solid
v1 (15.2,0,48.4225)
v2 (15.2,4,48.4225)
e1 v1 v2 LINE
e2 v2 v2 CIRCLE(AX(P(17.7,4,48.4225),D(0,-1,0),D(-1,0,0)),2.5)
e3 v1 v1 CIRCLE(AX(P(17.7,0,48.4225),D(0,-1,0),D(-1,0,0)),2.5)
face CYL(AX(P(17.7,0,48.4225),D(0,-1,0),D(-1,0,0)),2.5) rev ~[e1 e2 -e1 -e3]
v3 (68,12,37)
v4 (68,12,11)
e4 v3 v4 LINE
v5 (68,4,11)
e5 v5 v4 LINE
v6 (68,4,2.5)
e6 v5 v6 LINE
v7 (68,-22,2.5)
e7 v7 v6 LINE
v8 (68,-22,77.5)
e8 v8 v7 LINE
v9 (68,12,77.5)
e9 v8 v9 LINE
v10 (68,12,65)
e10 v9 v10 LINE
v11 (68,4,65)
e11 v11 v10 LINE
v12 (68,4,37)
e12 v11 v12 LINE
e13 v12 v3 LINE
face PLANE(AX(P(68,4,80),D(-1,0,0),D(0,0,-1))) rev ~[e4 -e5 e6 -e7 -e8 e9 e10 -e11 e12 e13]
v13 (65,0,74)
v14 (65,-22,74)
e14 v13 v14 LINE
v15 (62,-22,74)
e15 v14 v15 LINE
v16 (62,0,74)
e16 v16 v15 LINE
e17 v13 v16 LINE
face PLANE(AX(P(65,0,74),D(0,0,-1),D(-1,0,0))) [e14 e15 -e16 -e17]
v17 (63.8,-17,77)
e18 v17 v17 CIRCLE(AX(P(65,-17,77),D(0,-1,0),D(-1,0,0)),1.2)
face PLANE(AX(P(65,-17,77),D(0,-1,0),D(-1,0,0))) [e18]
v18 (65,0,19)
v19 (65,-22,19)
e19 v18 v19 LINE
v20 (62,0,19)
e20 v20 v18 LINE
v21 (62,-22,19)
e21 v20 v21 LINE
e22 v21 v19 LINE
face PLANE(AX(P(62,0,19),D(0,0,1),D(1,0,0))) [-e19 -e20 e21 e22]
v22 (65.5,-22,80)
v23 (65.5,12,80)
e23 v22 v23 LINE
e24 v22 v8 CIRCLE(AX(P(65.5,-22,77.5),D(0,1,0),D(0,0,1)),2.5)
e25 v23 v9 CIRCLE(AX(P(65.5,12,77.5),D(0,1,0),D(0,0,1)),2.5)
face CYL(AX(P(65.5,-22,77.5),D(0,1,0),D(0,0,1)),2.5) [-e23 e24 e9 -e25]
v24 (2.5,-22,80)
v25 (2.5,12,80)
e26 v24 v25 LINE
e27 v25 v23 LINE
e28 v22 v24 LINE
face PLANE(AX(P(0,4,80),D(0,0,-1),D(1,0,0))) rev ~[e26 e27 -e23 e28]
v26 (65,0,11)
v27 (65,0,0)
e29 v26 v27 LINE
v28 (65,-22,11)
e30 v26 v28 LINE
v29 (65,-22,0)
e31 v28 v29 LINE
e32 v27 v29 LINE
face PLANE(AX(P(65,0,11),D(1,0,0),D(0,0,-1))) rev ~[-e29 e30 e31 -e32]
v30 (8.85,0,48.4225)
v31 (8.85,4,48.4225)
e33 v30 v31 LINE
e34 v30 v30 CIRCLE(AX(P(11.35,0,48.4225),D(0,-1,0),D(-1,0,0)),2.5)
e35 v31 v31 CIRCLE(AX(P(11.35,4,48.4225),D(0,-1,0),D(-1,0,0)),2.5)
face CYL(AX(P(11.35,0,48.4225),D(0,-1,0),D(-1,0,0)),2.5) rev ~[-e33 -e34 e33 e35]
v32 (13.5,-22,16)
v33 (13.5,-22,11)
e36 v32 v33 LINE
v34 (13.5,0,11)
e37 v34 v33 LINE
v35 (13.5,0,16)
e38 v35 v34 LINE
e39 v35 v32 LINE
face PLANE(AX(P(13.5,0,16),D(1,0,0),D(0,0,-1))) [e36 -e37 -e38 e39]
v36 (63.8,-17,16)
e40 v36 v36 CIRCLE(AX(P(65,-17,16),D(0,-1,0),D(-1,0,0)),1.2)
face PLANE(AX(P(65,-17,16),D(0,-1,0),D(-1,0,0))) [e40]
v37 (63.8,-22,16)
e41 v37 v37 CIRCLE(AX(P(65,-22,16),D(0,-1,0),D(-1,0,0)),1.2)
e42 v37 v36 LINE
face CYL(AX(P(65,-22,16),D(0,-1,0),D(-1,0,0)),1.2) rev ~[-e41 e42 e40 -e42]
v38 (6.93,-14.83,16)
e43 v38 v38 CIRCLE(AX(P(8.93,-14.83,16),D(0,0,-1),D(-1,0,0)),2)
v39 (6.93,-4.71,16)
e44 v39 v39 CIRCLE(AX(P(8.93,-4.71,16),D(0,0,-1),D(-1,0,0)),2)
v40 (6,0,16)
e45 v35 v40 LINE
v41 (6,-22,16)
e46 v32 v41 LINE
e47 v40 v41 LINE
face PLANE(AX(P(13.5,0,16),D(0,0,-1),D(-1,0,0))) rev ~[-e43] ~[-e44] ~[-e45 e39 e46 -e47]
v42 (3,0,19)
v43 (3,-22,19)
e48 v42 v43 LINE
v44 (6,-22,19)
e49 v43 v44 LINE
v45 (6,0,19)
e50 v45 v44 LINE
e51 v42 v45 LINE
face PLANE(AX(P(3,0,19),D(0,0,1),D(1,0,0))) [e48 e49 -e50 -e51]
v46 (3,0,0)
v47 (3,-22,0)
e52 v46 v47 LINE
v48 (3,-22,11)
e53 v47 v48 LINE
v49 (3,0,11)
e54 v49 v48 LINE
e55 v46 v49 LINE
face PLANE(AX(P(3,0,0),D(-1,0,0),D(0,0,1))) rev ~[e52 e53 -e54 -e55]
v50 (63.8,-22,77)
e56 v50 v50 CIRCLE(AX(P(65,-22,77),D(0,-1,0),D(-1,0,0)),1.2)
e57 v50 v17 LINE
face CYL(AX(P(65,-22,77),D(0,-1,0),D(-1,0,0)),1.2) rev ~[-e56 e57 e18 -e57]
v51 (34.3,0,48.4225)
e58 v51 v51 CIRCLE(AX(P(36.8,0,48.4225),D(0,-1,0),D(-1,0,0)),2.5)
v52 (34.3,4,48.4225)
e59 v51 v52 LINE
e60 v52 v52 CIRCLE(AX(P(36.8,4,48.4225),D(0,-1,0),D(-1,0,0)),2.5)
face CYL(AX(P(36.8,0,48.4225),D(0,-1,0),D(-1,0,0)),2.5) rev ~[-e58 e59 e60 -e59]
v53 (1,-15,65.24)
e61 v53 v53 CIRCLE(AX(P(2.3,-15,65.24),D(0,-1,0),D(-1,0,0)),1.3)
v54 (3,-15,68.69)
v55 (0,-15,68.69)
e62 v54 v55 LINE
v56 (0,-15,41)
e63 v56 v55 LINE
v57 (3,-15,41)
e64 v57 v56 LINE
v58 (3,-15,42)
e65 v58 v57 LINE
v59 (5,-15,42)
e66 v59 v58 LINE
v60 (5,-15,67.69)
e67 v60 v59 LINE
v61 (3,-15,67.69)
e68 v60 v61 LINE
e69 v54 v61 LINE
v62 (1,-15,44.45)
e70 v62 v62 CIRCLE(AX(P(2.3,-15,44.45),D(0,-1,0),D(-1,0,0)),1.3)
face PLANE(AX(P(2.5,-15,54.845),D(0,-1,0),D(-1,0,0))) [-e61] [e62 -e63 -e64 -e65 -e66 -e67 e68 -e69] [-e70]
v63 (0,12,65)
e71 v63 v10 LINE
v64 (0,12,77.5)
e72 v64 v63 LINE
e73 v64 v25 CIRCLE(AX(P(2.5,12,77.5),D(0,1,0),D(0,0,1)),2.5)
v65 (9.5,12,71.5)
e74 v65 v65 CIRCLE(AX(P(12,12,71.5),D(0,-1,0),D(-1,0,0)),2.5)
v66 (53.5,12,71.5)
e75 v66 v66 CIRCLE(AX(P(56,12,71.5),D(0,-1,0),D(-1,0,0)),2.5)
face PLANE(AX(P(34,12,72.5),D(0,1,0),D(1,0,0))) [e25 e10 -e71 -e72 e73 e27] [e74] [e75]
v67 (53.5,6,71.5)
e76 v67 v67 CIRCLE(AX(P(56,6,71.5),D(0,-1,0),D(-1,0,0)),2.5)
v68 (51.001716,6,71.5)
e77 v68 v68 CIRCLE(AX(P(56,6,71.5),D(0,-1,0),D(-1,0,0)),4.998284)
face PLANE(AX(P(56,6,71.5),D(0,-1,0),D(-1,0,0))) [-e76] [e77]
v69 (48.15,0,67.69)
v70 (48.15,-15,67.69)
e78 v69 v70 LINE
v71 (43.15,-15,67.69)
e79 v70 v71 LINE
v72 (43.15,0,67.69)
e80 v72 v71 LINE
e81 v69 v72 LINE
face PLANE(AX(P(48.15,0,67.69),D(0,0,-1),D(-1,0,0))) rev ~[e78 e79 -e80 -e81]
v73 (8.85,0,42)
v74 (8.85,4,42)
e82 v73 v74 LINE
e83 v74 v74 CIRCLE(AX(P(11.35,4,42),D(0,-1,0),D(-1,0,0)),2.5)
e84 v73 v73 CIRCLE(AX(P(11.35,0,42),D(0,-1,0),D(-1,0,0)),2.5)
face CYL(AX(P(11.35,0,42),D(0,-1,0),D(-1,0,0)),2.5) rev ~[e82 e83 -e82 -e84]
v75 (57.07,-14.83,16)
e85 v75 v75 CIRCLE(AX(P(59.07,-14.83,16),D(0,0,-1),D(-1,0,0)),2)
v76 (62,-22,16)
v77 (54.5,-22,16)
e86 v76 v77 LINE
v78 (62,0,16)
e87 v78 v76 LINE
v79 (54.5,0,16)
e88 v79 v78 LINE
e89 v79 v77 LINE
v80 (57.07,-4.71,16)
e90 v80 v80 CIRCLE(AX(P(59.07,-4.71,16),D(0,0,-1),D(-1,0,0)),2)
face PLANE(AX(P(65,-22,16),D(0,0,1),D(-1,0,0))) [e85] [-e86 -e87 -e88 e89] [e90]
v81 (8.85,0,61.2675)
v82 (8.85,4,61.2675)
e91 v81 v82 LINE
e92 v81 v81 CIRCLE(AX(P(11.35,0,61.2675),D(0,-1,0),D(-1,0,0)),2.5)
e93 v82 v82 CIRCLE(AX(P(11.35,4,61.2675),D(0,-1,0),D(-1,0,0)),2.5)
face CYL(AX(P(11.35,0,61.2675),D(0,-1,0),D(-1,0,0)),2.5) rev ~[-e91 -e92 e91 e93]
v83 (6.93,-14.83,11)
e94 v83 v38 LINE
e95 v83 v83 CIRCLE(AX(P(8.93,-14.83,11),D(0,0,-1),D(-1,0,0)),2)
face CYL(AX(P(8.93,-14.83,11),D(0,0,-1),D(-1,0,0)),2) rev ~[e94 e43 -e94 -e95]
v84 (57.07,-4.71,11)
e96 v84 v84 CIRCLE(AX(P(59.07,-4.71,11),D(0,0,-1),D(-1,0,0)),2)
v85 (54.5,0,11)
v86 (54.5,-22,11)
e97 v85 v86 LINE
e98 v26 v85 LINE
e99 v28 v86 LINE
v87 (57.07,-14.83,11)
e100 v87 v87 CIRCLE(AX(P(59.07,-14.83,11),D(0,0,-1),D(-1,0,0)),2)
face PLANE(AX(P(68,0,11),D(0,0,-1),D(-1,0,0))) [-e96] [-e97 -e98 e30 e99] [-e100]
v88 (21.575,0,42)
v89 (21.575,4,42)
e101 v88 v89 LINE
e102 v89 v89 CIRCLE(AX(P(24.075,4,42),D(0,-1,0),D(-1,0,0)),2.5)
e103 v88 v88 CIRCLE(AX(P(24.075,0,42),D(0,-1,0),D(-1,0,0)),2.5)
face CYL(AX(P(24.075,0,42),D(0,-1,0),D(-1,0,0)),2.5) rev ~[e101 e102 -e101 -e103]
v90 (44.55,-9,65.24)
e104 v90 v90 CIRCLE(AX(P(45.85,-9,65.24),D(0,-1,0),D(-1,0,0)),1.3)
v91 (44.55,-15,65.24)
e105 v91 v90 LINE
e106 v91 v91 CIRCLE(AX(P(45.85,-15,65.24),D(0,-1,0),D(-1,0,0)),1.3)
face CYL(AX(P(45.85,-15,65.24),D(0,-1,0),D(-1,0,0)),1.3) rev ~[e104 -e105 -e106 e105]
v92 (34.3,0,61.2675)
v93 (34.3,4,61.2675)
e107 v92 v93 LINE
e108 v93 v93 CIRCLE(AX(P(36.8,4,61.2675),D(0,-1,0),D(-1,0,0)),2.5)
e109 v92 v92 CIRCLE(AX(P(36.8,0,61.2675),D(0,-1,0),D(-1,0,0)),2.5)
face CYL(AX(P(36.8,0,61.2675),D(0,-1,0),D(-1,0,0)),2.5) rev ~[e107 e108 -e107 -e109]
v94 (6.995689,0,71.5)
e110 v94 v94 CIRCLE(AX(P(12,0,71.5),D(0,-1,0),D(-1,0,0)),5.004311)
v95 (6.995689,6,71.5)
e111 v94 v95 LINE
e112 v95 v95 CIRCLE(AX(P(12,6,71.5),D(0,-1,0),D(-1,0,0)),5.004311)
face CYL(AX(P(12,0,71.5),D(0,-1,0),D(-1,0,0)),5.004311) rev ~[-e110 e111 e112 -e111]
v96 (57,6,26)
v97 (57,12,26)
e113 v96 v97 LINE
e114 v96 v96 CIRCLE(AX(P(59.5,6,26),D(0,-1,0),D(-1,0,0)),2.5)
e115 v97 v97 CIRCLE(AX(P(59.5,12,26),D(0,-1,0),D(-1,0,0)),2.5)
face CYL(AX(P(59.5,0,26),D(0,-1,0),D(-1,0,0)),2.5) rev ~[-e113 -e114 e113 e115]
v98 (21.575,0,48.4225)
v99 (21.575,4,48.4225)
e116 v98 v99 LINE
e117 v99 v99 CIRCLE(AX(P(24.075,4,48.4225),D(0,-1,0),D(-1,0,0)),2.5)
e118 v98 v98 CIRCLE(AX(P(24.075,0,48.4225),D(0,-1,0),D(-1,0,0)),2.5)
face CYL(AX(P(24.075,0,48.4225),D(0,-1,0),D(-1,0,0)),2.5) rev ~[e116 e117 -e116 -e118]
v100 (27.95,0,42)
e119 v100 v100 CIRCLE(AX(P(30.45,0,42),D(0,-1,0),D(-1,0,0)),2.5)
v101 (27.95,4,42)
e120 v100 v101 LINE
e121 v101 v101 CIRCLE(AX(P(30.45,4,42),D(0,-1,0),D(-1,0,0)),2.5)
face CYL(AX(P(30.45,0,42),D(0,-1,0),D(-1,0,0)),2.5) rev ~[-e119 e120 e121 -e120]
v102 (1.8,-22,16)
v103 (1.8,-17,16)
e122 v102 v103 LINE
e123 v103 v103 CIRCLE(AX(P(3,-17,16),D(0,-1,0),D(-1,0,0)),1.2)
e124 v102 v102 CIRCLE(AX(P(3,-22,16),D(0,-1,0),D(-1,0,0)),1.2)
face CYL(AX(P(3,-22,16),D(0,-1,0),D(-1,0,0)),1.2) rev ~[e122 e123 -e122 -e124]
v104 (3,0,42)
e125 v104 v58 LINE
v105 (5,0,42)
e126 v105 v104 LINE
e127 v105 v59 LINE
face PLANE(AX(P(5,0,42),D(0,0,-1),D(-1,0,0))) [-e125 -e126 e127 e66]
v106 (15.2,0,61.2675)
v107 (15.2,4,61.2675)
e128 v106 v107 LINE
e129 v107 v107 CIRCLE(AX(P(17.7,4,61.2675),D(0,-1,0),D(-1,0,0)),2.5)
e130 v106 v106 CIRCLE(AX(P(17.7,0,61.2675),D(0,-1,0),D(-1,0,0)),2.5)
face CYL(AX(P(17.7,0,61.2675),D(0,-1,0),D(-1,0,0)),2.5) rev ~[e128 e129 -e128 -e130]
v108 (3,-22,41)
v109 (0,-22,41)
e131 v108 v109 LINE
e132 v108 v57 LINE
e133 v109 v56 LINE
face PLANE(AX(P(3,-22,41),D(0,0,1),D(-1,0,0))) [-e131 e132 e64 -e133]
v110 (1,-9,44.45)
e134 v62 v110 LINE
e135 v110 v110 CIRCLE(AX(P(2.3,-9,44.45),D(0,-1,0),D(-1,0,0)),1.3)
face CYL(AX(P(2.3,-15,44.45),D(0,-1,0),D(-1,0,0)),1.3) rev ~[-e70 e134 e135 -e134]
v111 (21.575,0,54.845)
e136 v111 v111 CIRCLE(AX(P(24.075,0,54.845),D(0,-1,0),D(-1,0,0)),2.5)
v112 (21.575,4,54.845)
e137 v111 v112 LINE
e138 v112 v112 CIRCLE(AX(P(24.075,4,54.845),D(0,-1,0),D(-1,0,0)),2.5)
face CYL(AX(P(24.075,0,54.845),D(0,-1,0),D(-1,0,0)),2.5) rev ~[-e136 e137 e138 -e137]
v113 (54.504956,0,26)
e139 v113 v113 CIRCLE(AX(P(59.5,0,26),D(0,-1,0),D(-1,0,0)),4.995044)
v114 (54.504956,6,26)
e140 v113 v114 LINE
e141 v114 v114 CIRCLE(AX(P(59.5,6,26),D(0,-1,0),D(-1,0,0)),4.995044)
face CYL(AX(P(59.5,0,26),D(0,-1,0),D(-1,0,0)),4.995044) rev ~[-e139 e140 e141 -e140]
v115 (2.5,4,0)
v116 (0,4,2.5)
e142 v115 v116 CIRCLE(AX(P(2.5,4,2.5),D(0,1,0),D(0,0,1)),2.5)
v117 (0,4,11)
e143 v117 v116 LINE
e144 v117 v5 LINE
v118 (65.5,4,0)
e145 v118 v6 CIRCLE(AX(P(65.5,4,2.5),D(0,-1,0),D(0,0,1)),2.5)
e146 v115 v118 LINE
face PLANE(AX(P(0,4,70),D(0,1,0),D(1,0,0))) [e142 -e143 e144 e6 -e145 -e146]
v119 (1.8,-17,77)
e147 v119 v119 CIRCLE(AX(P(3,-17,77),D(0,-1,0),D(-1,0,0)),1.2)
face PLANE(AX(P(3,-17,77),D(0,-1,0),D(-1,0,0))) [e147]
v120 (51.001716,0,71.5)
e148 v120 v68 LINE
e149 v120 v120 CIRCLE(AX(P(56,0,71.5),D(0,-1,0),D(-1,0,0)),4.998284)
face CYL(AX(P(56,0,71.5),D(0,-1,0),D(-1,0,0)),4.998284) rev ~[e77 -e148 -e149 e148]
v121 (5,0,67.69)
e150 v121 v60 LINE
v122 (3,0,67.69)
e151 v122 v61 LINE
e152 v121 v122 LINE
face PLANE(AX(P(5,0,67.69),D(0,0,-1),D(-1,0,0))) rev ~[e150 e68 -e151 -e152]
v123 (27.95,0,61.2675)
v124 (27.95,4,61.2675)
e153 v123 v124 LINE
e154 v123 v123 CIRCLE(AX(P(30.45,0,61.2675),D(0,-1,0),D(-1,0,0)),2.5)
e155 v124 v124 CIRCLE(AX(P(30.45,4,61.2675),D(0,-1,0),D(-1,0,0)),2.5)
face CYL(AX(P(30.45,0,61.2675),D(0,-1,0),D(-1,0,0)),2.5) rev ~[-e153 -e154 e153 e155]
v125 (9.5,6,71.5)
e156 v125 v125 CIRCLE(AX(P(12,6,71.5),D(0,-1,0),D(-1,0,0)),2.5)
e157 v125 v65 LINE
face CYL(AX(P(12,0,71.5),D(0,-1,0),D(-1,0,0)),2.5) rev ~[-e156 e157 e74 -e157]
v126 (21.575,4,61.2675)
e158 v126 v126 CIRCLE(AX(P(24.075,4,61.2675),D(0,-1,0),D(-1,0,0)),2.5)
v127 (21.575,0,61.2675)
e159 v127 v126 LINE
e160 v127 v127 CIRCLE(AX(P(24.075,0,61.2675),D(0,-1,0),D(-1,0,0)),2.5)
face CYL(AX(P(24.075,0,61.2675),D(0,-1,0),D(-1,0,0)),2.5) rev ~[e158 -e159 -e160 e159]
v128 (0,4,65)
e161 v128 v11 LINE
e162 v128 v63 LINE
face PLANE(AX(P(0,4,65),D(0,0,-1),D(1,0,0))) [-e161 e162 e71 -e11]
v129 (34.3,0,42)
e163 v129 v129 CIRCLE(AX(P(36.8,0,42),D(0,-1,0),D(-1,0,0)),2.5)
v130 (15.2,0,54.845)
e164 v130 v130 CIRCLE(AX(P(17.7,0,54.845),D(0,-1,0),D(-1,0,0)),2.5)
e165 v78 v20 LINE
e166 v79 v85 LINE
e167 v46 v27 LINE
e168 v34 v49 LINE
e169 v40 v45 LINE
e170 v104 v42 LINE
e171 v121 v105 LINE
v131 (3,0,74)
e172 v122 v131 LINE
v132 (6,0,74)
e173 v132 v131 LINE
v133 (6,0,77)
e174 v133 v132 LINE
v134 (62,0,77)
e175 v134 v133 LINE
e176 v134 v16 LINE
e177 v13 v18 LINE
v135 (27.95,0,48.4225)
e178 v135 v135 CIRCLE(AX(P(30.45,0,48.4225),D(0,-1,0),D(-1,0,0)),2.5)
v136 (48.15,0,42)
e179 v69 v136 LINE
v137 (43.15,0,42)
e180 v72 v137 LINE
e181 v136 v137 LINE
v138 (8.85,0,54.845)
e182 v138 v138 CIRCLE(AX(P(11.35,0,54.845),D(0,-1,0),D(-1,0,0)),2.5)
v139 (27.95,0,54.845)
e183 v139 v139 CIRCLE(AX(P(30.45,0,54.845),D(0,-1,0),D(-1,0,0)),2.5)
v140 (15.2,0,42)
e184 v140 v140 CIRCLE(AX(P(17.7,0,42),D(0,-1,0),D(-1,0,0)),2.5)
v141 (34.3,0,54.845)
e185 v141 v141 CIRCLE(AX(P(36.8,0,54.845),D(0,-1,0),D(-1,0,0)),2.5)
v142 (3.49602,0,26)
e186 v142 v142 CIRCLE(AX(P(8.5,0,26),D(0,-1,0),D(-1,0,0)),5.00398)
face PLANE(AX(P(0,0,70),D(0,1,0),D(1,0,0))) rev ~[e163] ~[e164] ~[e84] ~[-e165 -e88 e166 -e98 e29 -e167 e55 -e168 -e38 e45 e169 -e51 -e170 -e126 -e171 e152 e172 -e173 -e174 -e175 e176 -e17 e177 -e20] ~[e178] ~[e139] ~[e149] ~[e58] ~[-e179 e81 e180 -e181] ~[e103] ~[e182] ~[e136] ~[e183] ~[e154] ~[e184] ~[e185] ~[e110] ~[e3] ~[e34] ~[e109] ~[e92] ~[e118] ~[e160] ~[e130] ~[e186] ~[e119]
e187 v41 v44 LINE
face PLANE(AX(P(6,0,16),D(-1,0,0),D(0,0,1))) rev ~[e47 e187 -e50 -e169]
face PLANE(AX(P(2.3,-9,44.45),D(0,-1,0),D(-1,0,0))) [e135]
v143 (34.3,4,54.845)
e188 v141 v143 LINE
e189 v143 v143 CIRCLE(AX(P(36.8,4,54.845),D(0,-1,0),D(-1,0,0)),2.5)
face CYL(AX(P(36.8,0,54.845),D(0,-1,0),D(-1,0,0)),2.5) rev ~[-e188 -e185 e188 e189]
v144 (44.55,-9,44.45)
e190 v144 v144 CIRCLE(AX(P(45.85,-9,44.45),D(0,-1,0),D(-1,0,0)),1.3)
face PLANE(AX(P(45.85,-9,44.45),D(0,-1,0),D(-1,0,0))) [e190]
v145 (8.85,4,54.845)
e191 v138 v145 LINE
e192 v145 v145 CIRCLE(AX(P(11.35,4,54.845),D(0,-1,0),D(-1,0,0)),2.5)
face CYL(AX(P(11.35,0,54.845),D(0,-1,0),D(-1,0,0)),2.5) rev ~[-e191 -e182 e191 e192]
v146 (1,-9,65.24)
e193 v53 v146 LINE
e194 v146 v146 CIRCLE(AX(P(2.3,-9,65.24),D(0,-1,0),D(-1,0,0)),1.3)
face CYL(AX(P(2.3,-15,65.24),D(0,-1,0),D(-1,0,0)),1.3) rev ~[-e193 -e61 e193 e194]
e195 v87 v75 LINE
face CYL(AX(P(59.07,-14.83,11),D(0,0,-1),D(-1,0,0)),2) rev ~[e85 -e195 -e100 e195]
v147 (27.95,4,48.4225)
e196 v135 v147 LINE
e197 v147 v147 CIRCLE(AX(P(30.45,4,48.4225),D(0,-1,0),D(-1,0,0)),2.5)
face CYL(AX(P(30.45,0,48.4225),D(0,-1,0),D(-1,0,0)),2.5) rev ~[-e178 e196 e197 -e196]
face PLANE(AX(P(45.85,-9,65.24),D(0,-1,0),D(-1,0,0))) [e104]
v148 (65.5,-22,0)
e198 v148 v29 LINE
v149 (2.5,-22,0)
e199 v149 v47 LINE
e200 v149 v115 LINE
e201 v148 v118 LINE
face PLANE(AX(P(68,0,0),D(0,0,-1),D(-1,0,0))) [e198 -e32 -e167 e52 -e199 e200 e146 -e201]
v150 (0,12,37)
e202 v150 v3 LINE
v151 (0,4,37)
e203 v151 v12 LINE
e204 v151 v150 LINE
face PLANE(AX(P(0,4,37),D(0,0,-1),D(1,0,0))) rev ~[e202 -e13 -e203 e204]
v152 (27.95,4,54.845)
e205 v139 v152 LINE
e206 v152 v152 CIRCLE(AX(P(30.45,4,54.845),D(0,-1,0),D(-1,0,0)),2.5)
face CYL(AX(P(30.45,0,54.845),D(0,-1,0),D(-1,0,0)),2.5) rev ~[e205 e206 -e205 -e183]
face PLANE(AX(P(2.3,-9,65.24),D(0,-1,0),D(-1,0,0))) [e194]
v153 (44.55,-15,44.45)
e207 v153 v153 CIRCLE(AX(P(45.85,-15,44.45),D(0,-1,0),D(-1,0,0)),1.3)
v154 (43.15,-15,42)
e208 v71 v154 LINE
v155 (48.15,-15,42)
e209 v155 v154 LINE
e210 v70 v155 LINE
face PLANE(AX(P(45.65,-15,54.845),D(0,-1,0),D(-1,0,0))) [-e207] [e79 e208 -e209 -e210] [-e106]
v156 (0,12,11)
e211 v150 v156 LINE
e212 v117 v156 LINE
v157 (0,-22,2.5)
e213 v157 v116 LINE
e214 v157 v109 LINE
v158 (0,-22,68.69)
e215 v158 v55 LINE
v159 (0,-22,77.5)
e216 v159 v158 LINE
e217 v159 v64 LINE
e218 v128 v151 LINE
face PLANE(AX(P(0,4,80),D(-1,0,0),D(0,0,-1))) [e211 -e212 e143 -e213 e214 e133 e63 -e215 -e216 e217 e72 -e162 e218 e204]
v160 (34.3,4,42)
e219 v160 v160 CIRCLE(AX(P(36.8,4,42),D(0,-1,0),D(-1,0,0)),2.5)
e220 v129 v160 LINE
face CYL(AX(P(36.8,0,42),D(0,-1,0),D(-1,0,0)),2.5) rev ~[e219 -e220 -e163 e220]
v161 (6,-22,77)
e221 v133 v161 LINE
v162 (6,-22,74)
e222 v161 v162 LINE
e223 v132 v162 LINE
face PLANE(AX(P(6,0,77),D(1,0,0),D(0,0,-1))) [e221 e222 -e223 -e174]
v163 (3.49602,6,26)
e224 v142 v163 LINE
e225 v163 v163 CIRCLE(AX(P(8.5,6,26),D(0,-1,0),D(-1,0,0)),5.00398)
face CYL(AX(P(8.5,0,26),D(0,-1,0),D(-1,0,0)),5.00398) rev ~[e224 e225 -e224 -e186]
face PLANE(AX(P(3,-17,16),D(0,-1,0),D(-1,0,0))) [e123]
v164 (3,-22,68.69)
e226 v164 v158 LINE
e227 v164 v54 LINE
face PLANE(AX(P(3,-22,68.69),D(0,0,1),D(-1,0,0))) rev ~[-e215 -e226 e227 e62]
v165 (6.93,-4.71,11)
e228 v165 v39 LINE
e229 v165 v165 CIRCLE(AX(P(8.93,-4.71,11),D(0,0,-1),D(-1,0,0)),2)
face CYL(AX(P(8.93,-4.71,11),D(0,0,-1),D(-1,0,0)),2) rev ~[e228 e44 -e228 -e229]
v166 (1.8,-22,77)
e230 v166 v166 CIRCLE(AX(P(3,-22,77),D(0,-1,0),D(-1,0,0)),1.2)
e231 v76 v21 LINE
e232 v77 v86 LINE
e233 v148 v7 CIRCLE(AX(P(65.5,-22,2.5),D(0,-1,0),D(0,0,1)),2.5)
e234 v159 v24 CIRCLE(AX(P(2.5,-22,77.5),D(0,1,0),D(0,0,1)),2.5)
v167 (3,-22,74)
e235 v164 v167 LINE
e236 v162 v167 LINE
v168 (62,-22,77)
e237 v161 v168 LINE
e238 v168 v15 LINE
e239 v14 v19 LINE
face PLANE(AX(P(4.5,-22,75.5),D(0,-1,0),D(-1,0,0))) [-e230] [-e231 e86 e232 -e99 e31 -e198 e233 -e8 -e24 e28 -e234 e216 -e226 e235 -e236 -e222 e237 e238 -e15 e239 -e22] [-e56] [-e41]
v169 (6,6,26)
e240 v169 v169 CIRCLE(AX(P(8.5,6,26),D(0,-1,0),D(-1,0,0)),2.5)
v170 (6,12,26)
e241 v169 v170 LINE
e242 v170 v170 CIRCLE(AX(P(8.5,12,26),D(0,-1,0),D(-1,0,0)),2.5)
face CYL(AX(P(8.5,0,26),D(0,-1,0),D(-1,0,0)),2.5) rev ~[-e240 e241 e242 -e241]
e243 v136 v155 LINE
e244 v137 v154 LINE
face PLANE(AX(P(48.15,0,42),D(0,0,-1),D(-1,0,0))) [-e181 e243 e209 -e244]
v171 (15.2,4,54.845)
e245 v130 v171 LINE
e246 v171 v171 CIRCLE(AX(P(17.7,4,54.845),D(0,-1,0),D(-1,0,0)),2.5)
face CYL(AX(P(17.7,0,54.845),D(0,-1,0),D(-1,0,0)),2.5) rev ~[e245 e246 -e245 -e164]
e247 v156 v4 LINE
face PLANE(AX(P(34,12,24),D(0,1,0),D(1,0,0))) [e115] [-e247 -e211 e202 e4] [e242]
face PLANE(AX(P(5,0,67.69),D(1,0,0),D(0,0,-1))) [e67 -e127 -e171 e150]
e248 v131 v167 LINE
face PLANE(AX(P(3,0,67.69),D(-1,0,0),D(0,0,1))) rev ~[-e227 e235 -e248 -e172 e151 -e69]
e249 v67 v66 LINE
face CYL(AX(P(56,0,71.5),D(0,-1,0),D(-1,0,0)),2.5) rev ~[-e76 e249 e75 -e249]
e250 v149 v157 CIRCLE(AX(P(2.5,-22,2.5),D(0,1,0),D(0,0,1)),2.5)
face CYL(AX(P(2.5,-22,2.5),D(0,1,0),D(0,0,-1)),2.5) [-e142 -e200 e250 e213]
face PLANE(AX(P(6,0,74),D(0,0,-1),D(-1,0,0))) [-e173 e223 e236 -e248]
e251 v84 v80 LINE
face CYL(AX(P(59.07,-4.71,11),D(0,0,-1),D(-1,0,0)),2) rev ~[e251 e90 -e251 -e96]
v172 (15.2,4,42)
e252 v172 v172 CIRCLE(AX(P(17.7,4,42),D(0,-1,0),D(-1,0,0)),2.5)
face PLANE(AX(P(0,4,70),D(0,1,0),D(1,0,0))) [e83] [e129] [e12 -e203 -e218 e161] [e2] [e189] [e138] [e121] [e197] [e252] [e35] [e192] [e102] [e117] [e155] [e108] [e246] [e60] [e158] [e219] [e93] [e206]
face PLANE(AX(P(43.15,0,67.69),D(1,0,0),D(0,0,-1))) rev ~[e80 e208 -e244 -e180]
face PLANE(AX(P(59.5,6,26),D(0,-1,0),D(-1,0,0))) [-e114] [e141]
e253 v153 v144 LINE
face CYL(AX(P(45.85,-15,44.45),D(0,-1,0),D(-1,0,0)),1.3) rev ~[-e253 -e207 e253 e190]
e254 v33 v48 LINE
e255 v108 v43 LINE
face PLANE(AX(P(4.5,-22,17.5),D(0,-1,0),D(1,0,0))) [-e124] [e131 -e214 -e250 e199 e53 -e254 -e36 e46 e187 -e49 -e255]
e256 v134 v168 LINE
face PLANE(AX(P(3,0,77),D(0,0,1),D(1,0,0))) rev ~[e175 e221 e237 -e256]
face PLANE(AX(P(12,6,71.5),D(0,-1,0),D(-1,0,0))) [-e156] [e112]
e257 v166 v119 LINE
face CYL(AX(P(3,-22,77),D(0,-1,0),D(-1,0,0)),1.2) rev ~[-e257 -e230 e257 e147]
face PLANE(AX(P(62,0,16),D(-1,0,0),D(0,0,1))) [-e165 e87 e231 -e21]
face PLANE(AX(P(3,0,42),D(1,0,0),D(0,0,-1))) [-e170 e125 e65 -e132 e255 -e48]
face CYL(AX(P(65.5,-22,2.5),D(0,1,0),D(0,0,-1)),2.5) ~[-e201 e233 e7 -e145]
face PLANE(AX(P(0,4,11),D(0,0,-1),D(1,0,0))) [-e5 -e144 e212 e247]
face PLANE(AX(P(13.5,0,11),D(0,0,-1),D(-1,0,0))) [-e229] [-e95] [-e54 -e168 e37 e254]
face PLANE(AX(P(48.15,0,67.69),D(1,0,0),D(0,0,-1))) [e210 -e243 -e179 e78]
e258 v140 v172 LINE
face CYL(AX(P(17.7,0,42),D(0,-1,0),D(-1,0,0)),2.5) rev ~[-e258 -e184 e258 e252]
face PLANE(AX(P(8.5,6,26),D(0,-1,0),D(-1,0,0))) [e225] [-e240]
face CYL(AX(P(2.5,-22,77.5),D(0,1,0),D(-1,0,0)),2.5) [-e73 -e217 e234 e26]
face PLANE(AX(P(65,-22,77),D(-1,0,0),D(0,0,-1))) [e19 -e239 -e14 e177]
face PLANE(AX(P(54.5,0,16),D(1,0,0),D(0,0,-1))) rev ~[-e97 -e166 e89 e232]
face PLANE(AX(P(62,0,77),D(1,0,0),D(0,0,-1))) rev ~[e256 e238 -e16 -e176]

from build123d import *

# Parameters (mm, degrees)
SKETCH1_W            = 68
SKETCH1_H            = 70
BOSS_EXTRUDE2_DEPTH  = 4
SKETCH2_W            = 13.5
SKETCH2_H            = 5
BOSS_EXTRUDE4_DEPTH  = 22
SKETCH3_R            = 2
CUT_EXTRUDE1_DEPTH   = 10
SKETCH4_W            = 5
SKETCH4_H            = 25.69
BOSS_EXTRUDE5_DEPTH  = 15
SKETCH5_R            = 1.3
CUT_EXTRUDE2_DEPTH   = 6
SKETCH6_W            = 68
SKETCH6_H            = 4
BOSS_EXTRUDE6_DEPTH  = 10
BOSS_EXTRUDE7_DEPTH  = 22
SKETCH8_W            = 3
SKETCH8_H            = 26
BOSS_EXTRUDE8_DEPTH  = 22
BOSS_EXTRUDE9_DEPTH  = 22
SKETCH12_W           = 3
SKETCH12_H           = 1
CUT_EXTRUDE5_DEPTH   = 7
SKETCH13_W           = 68
SKETCH13_H           = 26
SKETCH13_H_2         = 15
BOSS_EXTRUDE12_DEPTH = 8
SKETCH19_W           = 6
SKETCH19_H           = 61
CUT_EXTRUDE8_DEPTH   = 22
SKETCH20_W           = 3
SKETCH20_H           = 3
BOSS_EXTRUDE13_DEPTH = 22
SKETCH21_R           = 2.5
CUT_EXTRUDE9_DEPTH   = 22
SKETCH22_R           = 5.004310541
SKETCH22_R_2         = 5.00398022
SKETCH22_R_3         = 4.995044229
SKETCH22_R_4         = 4.998284189
CUT_EXTRUDE10_DEPTH  = 6
SKETCH24_W           = 3
SKETCH24_H           = 3
BOSS_EXTRUDE14_DEPTH = 22
SKETCH26_R           = 1.2
CUT_EXTRUDE11_DEPTH  = 5
SKETCH27_R           = 2.5
CUT_EXTRUDE13_DEPTH  = 10
FILLET2_R            = 2.5


with BuildPart() as part:
    # Sketch1 → Boss-Extrude2 (new body)
    with BuildSketch(Plane(origin=(0, 0, 0), x_dir=(1, 0, 0), z_dir=(0, 1, 0))):
        with Locations((34, -35)):
            Rectangle(SKETCH1_W, SKETCH1_H)
    extrude(amount=BOSS_EXTRUDE2_DEPTH)

    # Sketch2 → Boss-Extrude4 (add)
    with BuildSketch(Plane(origin=(0, 0, 0), x_dir=(-1, 0, 0), z_dir=(0, -1, 0))):
        with Locations((-6.75, -13.5)):
            Rectangle(SKETCH2_W, SKETCH2_H)
        with Locations((-61.25, -13.5)):
            Rectangle(SKETCH2_W, SKETCH2_H)
    extrude(amount=BOSS_EXTRUDE4_DEPTH)

    # Sketch3 → Cut-Extrude1 (cut)
    with BuildSketch(Plane(origin=(0, 0, 11), x_dir=(-1, 0, 0), z_dir=(0, 0, -1))):
        with Locations((-59.07, -14.83)):
            Circle(SKETCH3_R)
        with Locations((-59.07, -4.71)):
            Circle(SKETCH3_R)
        with Locations((-8.93, -14.83)):
            Circle(SKETCH3_R)
        with Locations((-8.93, -4.71)):
            Circle(SKETCH3_R)
    extrude(amount=-CUT_EXTRUDE1_DEPTH, mode=Mode.SUBTRACT)

    # Sketch4 → Boss-Extrude5 (add)
    with BuildSketch(Plane(origin=(0, 0, 0), x_dir=(-1, 0, 0), z_dir=(0, -1, 0))):
        with Locations((-2.5, -54.845)):
            Rectangle(SKETCH4_W, SKETCH4_H)
        with Locations((-45.65, -54.845)):
            Rectangle(SKETCH4_W, SKETCH4_H)
    extrude(amount=BOSS_EXTRUDE5_DEPTH)

    # Sketch5 → Cut-Extrude2 (cut)
    with BuildSketch(Plane(origin=(0, -15, 0), x_dir=(-1, 0, 0), z_dir=(0, -1, 0))):
        with Locations((-2.3, -65.24)):
            Circle(SKETCH5_R)
        with Locations((-2.3, -44.45)):
            Circle(SKETCH5_R)
        with Locations((-45.85, -65.24)):
            Circle(SKETCH5_R)
        with Locations((-45.85, -44.45)):
            Circle(SKETCH5_R)
    extrude(amount=-CUT_EXTRUDE2_DEPTH, mode=Mode.SUBTRACT)

    # Sketch6 → Boss-Extrude6 (add)
    with BuildSketch(Plane.XY.offset(70)):
        with Locations((34, 2)):
            Rectangle(SKETCH6_W, SKETCH6_H)
    extrude(amount=BOSS_EXTRUDE6_DEPTH)

    # Sketch7 → Boss-Extrude7 (add)
    with BuildSketch(Plane(origin=(0, 0, 0), x_dir=(-1, 0, 0), z_dir=(0, -1, 0))):
        Polygon((0, -80), (0, -67.69), (-3, -67.69), (-3, -77), (-59, -77), (-59, -16), (-68, -16), (-68, -80), align=None)
    extrude(amount=BOSS_EXTRUDE7_DEPTH)

    # Sketch8 → Boss-Extrude8 (add)
    with BuildSketch(Plane(origin=(0, 0, 0), x_dir=(-1, 0, 0), z_dir=(0, -1, 0))):
        with Locations((-1.5, -29)):
            Rectangle(SKETCH8_W, SKETCH8_H)
    extrude(amount=BOSS_EXTRUDE8_DEPTH)

    # Sketch9 → Boss-Extrude9 (add)
    with BuildSketch(Plane.XZ):
        Polygon((68, 11), (68, 0), (65, 0), (65, 3), (65, 11), align=None)
        Polygon((0, 11), (0, 0), (3, 0), (3, 3), (3, 11), align=None)
    extrude(amount=BOSS_EXTRUDE9_DEPTH)

    # Sketch12 → Cut-Extrude5 (cut)
    with BuildSketch(Plane(origin=(0, -22, 0), x_dir=(-1, 0, 0), z_dir=(0, -1, 0))):
        with Locations((-1.5, -41.5)):
            Rectangle(SKETCH12_W, SKETCH12_H)
        with Locations((-1.5, -68.19)):
            Rectangle(SKETCH12_W, SKETCH12_H)
    extrude(amount=-CUT_EXTRUDE5_DEPTH, mode=Mode.SUBTRACT)

    # Sketch13 → Boss-Extrude12 (add)
    with BuildSketch(Plane(origin=(0, 4, 0), x_dir=(1, 0, 0), z_dir=(0, 1, 0))):
        with Locations((34, -24)):
            Rectangle(SKETCH13_W, SKETCH13_H)
        with Locations((34, -72.5)):
            Rectangle(SKETCH13_W, SKETCH13_H_2)
    extrude(amount=BOSS_EXTRUDE12_DEPTH)

    # Sketch19 → Cut-Extrude8 (cut)
    with BuildSketch(Plane(origin=(0, -22, 0), x_dir=(-1, 0, 0), z_dir=(0, -1, 0))):
        with Locations((-62, -46.5)):
            Rectangle(SKETCH19_W, SKETCH19_H)
    extrude(amount=-CUT_EXTRUDE8_DEPTH, mode=Mode.SUBTRACT)

    # Sketch20 → Boss-Extrude13 (add)
    with BuildSketch(Plane.XZ):
        with Locations((4.5, 17.5)):
            Rectangle(SKETCH20_W, SKETCH20_H)
        with Locations((63.5, 17.5)):
            Rectangle(SKETCH20_W, SKETCH20_H)
    extrude(amount=BOSS_EXTRUDE13_DEPTH)

    # Sketch21 → Cut-Extrude9 (cut)
    with BuildSketch(Plane(origin=(0, 0, 0), x_dir=(-1, 0, 0), z_dir=(0, -1, 0))):
        with Locations((-8.5, -26)):
            Circle(SKETCH21_R)
        with Locations((-12, -71.5)):
            Circle(SKETCH21_R)
        with Locations((-56, -71.5)):
            Circle(SKETCH21_R)
        with Locations((-59.5, -26)):
            Circle(SKETCH21_R)
    extrude(amount=-CUT_EXTRUDE9_DEPTH, mode=Mode.SUBTRACT)

    # Sketch22 → Cut-Extrude10 (cut)
    with BuildSketch(Plane(origin=(0, 0, 0), x_dir=(-1, 0, 0), z_dir=(0, -1, 0))):
        with Locations((-12, -71.5)):
            Circle(SKETCH22_R)
        with Locations((-8.5, -26)):
            Circle(SKETCH22_R_2)
        with Locations((-59.5, -26)):
            Circle(SKETCH22_R_3)
        with Locations((-56, -71.5)):
            Circle(SKETCH22_R_4)
    extrude(amount=-CUT_EXTRUDE10_DEPTH, mode=Mode.SUBTRACT)

    # Sketch24 → Boss-Extrude14 (add)
    with BuildSketch(Plane(origin=(0, 0, 0), x_dir=(-1, 0, 0), z_dir=(0, -1, 0))):
        with Locations((-4.5, -75.5)):
            Rectangle(SKETCH24_W, SKETCH24_H)
        with Locations((-63.5, -75.5)):
            Rectangle(SKETCH24_W, SKETCH24_H)
    extrude(amount=BOSS_EXTRUDE14_DEPTH)

    # Sketch26 → Cut-Extrude11 (cut)
    with BuildSketch(Plane(origin=(0, -22, 0), x_dir=(-1, 0, 0), z_dir=(0, -1, 0))):
        with Locations((-65, -77)):
            Circle(SKETCH26_R)
        with Locations((-3, -77)):
            Circle(SKETCH26_R)
        with Locations((-65, -16)):
            Circle(SKETCH26_R)
        with Locations((-3, -16)):
            Circle(SKETCH26_R)
    extrude(amount=-CUT_EXTRUDE11_DEPTH, mode=Mode.SUBTRACT)

    # Sketch27 → Cut-Extrude13 (cut)
    with BuildSketch(Plane(origin=(0, 0, 0), x_dir=(-1, 0, 0), z_dir=(0, -1, 0))):
        with Locations((-36.8, -42)):
            Circle(SKETCH27_R)
        with Locations((-30.45, -42)):
            Circle(SKETCH27_R)
        with Locations((-24.075, -42)):
            Circle(SKETCH27_R)
        with Locations((-17.7, -42)):
            Circle(SKETCH27_R)
        with Locations((-11.35, -42)):
            Circle(SKETCH27_R)
        with Locations((-11.35, -48.4225)):
            Circle(SKETCH27_R)
        with Locations((-17.7, -48.4225)):
            Circle(SKETCH27_R)
        with Locations((-24.075, -48.4225)):
            Circle(SKETCH27_R)
        with Locations((-30.45, -48.4225)):
            Circle(SKETCH27_R)
        with Locations((-36.8, -48.4225)):
            Circle(SKETCH27_R)
        with Locations((-36.8, -54.845)):
            Circle(SKETCH27_R)
        with Locations((-36.8, -61.2675)):
            Circle(SKETCH27_R)
        with Locations((-30.45, -54.845)):
            Circle(SKETCH27_R)
        with Locations((-30.45, -61.2675)):
            Circle(SKETCH27_R)
        with Locations((-24.075, -54.845)):
            Circle(SKETCH27_R)
        with Locations((-24.075, -61.2675)):
            Circle(SKETCH27_R)
        with Locations((-17.7, -54.845)):
            Circle(SKETCH27_R)
        with Locations((-17.7, -61.2675)):
            Circle(SKETCH27_R)
        with Locations((-11.35, -54.845)):
            Circle(SKETCH27_R)
        with Locations((-11.35, -61.2675)):
            Circle(SKETCH27_R)
    extrude(amount=-CUT_EXTRUDE13_DEPTH, mode=Mode.SUBTRACT)

    # Fillet2
    fillet2_edges = [part.edges().sort_by_distance(p)[0] for p in [
        (0, -5, 80),
        (68, -5, 80),
        (0, -9, 0),
        (68, -9, 0),
    ]]
    fillet(fillet2_edges, radius=FILLET2_R)


solid = part.part
